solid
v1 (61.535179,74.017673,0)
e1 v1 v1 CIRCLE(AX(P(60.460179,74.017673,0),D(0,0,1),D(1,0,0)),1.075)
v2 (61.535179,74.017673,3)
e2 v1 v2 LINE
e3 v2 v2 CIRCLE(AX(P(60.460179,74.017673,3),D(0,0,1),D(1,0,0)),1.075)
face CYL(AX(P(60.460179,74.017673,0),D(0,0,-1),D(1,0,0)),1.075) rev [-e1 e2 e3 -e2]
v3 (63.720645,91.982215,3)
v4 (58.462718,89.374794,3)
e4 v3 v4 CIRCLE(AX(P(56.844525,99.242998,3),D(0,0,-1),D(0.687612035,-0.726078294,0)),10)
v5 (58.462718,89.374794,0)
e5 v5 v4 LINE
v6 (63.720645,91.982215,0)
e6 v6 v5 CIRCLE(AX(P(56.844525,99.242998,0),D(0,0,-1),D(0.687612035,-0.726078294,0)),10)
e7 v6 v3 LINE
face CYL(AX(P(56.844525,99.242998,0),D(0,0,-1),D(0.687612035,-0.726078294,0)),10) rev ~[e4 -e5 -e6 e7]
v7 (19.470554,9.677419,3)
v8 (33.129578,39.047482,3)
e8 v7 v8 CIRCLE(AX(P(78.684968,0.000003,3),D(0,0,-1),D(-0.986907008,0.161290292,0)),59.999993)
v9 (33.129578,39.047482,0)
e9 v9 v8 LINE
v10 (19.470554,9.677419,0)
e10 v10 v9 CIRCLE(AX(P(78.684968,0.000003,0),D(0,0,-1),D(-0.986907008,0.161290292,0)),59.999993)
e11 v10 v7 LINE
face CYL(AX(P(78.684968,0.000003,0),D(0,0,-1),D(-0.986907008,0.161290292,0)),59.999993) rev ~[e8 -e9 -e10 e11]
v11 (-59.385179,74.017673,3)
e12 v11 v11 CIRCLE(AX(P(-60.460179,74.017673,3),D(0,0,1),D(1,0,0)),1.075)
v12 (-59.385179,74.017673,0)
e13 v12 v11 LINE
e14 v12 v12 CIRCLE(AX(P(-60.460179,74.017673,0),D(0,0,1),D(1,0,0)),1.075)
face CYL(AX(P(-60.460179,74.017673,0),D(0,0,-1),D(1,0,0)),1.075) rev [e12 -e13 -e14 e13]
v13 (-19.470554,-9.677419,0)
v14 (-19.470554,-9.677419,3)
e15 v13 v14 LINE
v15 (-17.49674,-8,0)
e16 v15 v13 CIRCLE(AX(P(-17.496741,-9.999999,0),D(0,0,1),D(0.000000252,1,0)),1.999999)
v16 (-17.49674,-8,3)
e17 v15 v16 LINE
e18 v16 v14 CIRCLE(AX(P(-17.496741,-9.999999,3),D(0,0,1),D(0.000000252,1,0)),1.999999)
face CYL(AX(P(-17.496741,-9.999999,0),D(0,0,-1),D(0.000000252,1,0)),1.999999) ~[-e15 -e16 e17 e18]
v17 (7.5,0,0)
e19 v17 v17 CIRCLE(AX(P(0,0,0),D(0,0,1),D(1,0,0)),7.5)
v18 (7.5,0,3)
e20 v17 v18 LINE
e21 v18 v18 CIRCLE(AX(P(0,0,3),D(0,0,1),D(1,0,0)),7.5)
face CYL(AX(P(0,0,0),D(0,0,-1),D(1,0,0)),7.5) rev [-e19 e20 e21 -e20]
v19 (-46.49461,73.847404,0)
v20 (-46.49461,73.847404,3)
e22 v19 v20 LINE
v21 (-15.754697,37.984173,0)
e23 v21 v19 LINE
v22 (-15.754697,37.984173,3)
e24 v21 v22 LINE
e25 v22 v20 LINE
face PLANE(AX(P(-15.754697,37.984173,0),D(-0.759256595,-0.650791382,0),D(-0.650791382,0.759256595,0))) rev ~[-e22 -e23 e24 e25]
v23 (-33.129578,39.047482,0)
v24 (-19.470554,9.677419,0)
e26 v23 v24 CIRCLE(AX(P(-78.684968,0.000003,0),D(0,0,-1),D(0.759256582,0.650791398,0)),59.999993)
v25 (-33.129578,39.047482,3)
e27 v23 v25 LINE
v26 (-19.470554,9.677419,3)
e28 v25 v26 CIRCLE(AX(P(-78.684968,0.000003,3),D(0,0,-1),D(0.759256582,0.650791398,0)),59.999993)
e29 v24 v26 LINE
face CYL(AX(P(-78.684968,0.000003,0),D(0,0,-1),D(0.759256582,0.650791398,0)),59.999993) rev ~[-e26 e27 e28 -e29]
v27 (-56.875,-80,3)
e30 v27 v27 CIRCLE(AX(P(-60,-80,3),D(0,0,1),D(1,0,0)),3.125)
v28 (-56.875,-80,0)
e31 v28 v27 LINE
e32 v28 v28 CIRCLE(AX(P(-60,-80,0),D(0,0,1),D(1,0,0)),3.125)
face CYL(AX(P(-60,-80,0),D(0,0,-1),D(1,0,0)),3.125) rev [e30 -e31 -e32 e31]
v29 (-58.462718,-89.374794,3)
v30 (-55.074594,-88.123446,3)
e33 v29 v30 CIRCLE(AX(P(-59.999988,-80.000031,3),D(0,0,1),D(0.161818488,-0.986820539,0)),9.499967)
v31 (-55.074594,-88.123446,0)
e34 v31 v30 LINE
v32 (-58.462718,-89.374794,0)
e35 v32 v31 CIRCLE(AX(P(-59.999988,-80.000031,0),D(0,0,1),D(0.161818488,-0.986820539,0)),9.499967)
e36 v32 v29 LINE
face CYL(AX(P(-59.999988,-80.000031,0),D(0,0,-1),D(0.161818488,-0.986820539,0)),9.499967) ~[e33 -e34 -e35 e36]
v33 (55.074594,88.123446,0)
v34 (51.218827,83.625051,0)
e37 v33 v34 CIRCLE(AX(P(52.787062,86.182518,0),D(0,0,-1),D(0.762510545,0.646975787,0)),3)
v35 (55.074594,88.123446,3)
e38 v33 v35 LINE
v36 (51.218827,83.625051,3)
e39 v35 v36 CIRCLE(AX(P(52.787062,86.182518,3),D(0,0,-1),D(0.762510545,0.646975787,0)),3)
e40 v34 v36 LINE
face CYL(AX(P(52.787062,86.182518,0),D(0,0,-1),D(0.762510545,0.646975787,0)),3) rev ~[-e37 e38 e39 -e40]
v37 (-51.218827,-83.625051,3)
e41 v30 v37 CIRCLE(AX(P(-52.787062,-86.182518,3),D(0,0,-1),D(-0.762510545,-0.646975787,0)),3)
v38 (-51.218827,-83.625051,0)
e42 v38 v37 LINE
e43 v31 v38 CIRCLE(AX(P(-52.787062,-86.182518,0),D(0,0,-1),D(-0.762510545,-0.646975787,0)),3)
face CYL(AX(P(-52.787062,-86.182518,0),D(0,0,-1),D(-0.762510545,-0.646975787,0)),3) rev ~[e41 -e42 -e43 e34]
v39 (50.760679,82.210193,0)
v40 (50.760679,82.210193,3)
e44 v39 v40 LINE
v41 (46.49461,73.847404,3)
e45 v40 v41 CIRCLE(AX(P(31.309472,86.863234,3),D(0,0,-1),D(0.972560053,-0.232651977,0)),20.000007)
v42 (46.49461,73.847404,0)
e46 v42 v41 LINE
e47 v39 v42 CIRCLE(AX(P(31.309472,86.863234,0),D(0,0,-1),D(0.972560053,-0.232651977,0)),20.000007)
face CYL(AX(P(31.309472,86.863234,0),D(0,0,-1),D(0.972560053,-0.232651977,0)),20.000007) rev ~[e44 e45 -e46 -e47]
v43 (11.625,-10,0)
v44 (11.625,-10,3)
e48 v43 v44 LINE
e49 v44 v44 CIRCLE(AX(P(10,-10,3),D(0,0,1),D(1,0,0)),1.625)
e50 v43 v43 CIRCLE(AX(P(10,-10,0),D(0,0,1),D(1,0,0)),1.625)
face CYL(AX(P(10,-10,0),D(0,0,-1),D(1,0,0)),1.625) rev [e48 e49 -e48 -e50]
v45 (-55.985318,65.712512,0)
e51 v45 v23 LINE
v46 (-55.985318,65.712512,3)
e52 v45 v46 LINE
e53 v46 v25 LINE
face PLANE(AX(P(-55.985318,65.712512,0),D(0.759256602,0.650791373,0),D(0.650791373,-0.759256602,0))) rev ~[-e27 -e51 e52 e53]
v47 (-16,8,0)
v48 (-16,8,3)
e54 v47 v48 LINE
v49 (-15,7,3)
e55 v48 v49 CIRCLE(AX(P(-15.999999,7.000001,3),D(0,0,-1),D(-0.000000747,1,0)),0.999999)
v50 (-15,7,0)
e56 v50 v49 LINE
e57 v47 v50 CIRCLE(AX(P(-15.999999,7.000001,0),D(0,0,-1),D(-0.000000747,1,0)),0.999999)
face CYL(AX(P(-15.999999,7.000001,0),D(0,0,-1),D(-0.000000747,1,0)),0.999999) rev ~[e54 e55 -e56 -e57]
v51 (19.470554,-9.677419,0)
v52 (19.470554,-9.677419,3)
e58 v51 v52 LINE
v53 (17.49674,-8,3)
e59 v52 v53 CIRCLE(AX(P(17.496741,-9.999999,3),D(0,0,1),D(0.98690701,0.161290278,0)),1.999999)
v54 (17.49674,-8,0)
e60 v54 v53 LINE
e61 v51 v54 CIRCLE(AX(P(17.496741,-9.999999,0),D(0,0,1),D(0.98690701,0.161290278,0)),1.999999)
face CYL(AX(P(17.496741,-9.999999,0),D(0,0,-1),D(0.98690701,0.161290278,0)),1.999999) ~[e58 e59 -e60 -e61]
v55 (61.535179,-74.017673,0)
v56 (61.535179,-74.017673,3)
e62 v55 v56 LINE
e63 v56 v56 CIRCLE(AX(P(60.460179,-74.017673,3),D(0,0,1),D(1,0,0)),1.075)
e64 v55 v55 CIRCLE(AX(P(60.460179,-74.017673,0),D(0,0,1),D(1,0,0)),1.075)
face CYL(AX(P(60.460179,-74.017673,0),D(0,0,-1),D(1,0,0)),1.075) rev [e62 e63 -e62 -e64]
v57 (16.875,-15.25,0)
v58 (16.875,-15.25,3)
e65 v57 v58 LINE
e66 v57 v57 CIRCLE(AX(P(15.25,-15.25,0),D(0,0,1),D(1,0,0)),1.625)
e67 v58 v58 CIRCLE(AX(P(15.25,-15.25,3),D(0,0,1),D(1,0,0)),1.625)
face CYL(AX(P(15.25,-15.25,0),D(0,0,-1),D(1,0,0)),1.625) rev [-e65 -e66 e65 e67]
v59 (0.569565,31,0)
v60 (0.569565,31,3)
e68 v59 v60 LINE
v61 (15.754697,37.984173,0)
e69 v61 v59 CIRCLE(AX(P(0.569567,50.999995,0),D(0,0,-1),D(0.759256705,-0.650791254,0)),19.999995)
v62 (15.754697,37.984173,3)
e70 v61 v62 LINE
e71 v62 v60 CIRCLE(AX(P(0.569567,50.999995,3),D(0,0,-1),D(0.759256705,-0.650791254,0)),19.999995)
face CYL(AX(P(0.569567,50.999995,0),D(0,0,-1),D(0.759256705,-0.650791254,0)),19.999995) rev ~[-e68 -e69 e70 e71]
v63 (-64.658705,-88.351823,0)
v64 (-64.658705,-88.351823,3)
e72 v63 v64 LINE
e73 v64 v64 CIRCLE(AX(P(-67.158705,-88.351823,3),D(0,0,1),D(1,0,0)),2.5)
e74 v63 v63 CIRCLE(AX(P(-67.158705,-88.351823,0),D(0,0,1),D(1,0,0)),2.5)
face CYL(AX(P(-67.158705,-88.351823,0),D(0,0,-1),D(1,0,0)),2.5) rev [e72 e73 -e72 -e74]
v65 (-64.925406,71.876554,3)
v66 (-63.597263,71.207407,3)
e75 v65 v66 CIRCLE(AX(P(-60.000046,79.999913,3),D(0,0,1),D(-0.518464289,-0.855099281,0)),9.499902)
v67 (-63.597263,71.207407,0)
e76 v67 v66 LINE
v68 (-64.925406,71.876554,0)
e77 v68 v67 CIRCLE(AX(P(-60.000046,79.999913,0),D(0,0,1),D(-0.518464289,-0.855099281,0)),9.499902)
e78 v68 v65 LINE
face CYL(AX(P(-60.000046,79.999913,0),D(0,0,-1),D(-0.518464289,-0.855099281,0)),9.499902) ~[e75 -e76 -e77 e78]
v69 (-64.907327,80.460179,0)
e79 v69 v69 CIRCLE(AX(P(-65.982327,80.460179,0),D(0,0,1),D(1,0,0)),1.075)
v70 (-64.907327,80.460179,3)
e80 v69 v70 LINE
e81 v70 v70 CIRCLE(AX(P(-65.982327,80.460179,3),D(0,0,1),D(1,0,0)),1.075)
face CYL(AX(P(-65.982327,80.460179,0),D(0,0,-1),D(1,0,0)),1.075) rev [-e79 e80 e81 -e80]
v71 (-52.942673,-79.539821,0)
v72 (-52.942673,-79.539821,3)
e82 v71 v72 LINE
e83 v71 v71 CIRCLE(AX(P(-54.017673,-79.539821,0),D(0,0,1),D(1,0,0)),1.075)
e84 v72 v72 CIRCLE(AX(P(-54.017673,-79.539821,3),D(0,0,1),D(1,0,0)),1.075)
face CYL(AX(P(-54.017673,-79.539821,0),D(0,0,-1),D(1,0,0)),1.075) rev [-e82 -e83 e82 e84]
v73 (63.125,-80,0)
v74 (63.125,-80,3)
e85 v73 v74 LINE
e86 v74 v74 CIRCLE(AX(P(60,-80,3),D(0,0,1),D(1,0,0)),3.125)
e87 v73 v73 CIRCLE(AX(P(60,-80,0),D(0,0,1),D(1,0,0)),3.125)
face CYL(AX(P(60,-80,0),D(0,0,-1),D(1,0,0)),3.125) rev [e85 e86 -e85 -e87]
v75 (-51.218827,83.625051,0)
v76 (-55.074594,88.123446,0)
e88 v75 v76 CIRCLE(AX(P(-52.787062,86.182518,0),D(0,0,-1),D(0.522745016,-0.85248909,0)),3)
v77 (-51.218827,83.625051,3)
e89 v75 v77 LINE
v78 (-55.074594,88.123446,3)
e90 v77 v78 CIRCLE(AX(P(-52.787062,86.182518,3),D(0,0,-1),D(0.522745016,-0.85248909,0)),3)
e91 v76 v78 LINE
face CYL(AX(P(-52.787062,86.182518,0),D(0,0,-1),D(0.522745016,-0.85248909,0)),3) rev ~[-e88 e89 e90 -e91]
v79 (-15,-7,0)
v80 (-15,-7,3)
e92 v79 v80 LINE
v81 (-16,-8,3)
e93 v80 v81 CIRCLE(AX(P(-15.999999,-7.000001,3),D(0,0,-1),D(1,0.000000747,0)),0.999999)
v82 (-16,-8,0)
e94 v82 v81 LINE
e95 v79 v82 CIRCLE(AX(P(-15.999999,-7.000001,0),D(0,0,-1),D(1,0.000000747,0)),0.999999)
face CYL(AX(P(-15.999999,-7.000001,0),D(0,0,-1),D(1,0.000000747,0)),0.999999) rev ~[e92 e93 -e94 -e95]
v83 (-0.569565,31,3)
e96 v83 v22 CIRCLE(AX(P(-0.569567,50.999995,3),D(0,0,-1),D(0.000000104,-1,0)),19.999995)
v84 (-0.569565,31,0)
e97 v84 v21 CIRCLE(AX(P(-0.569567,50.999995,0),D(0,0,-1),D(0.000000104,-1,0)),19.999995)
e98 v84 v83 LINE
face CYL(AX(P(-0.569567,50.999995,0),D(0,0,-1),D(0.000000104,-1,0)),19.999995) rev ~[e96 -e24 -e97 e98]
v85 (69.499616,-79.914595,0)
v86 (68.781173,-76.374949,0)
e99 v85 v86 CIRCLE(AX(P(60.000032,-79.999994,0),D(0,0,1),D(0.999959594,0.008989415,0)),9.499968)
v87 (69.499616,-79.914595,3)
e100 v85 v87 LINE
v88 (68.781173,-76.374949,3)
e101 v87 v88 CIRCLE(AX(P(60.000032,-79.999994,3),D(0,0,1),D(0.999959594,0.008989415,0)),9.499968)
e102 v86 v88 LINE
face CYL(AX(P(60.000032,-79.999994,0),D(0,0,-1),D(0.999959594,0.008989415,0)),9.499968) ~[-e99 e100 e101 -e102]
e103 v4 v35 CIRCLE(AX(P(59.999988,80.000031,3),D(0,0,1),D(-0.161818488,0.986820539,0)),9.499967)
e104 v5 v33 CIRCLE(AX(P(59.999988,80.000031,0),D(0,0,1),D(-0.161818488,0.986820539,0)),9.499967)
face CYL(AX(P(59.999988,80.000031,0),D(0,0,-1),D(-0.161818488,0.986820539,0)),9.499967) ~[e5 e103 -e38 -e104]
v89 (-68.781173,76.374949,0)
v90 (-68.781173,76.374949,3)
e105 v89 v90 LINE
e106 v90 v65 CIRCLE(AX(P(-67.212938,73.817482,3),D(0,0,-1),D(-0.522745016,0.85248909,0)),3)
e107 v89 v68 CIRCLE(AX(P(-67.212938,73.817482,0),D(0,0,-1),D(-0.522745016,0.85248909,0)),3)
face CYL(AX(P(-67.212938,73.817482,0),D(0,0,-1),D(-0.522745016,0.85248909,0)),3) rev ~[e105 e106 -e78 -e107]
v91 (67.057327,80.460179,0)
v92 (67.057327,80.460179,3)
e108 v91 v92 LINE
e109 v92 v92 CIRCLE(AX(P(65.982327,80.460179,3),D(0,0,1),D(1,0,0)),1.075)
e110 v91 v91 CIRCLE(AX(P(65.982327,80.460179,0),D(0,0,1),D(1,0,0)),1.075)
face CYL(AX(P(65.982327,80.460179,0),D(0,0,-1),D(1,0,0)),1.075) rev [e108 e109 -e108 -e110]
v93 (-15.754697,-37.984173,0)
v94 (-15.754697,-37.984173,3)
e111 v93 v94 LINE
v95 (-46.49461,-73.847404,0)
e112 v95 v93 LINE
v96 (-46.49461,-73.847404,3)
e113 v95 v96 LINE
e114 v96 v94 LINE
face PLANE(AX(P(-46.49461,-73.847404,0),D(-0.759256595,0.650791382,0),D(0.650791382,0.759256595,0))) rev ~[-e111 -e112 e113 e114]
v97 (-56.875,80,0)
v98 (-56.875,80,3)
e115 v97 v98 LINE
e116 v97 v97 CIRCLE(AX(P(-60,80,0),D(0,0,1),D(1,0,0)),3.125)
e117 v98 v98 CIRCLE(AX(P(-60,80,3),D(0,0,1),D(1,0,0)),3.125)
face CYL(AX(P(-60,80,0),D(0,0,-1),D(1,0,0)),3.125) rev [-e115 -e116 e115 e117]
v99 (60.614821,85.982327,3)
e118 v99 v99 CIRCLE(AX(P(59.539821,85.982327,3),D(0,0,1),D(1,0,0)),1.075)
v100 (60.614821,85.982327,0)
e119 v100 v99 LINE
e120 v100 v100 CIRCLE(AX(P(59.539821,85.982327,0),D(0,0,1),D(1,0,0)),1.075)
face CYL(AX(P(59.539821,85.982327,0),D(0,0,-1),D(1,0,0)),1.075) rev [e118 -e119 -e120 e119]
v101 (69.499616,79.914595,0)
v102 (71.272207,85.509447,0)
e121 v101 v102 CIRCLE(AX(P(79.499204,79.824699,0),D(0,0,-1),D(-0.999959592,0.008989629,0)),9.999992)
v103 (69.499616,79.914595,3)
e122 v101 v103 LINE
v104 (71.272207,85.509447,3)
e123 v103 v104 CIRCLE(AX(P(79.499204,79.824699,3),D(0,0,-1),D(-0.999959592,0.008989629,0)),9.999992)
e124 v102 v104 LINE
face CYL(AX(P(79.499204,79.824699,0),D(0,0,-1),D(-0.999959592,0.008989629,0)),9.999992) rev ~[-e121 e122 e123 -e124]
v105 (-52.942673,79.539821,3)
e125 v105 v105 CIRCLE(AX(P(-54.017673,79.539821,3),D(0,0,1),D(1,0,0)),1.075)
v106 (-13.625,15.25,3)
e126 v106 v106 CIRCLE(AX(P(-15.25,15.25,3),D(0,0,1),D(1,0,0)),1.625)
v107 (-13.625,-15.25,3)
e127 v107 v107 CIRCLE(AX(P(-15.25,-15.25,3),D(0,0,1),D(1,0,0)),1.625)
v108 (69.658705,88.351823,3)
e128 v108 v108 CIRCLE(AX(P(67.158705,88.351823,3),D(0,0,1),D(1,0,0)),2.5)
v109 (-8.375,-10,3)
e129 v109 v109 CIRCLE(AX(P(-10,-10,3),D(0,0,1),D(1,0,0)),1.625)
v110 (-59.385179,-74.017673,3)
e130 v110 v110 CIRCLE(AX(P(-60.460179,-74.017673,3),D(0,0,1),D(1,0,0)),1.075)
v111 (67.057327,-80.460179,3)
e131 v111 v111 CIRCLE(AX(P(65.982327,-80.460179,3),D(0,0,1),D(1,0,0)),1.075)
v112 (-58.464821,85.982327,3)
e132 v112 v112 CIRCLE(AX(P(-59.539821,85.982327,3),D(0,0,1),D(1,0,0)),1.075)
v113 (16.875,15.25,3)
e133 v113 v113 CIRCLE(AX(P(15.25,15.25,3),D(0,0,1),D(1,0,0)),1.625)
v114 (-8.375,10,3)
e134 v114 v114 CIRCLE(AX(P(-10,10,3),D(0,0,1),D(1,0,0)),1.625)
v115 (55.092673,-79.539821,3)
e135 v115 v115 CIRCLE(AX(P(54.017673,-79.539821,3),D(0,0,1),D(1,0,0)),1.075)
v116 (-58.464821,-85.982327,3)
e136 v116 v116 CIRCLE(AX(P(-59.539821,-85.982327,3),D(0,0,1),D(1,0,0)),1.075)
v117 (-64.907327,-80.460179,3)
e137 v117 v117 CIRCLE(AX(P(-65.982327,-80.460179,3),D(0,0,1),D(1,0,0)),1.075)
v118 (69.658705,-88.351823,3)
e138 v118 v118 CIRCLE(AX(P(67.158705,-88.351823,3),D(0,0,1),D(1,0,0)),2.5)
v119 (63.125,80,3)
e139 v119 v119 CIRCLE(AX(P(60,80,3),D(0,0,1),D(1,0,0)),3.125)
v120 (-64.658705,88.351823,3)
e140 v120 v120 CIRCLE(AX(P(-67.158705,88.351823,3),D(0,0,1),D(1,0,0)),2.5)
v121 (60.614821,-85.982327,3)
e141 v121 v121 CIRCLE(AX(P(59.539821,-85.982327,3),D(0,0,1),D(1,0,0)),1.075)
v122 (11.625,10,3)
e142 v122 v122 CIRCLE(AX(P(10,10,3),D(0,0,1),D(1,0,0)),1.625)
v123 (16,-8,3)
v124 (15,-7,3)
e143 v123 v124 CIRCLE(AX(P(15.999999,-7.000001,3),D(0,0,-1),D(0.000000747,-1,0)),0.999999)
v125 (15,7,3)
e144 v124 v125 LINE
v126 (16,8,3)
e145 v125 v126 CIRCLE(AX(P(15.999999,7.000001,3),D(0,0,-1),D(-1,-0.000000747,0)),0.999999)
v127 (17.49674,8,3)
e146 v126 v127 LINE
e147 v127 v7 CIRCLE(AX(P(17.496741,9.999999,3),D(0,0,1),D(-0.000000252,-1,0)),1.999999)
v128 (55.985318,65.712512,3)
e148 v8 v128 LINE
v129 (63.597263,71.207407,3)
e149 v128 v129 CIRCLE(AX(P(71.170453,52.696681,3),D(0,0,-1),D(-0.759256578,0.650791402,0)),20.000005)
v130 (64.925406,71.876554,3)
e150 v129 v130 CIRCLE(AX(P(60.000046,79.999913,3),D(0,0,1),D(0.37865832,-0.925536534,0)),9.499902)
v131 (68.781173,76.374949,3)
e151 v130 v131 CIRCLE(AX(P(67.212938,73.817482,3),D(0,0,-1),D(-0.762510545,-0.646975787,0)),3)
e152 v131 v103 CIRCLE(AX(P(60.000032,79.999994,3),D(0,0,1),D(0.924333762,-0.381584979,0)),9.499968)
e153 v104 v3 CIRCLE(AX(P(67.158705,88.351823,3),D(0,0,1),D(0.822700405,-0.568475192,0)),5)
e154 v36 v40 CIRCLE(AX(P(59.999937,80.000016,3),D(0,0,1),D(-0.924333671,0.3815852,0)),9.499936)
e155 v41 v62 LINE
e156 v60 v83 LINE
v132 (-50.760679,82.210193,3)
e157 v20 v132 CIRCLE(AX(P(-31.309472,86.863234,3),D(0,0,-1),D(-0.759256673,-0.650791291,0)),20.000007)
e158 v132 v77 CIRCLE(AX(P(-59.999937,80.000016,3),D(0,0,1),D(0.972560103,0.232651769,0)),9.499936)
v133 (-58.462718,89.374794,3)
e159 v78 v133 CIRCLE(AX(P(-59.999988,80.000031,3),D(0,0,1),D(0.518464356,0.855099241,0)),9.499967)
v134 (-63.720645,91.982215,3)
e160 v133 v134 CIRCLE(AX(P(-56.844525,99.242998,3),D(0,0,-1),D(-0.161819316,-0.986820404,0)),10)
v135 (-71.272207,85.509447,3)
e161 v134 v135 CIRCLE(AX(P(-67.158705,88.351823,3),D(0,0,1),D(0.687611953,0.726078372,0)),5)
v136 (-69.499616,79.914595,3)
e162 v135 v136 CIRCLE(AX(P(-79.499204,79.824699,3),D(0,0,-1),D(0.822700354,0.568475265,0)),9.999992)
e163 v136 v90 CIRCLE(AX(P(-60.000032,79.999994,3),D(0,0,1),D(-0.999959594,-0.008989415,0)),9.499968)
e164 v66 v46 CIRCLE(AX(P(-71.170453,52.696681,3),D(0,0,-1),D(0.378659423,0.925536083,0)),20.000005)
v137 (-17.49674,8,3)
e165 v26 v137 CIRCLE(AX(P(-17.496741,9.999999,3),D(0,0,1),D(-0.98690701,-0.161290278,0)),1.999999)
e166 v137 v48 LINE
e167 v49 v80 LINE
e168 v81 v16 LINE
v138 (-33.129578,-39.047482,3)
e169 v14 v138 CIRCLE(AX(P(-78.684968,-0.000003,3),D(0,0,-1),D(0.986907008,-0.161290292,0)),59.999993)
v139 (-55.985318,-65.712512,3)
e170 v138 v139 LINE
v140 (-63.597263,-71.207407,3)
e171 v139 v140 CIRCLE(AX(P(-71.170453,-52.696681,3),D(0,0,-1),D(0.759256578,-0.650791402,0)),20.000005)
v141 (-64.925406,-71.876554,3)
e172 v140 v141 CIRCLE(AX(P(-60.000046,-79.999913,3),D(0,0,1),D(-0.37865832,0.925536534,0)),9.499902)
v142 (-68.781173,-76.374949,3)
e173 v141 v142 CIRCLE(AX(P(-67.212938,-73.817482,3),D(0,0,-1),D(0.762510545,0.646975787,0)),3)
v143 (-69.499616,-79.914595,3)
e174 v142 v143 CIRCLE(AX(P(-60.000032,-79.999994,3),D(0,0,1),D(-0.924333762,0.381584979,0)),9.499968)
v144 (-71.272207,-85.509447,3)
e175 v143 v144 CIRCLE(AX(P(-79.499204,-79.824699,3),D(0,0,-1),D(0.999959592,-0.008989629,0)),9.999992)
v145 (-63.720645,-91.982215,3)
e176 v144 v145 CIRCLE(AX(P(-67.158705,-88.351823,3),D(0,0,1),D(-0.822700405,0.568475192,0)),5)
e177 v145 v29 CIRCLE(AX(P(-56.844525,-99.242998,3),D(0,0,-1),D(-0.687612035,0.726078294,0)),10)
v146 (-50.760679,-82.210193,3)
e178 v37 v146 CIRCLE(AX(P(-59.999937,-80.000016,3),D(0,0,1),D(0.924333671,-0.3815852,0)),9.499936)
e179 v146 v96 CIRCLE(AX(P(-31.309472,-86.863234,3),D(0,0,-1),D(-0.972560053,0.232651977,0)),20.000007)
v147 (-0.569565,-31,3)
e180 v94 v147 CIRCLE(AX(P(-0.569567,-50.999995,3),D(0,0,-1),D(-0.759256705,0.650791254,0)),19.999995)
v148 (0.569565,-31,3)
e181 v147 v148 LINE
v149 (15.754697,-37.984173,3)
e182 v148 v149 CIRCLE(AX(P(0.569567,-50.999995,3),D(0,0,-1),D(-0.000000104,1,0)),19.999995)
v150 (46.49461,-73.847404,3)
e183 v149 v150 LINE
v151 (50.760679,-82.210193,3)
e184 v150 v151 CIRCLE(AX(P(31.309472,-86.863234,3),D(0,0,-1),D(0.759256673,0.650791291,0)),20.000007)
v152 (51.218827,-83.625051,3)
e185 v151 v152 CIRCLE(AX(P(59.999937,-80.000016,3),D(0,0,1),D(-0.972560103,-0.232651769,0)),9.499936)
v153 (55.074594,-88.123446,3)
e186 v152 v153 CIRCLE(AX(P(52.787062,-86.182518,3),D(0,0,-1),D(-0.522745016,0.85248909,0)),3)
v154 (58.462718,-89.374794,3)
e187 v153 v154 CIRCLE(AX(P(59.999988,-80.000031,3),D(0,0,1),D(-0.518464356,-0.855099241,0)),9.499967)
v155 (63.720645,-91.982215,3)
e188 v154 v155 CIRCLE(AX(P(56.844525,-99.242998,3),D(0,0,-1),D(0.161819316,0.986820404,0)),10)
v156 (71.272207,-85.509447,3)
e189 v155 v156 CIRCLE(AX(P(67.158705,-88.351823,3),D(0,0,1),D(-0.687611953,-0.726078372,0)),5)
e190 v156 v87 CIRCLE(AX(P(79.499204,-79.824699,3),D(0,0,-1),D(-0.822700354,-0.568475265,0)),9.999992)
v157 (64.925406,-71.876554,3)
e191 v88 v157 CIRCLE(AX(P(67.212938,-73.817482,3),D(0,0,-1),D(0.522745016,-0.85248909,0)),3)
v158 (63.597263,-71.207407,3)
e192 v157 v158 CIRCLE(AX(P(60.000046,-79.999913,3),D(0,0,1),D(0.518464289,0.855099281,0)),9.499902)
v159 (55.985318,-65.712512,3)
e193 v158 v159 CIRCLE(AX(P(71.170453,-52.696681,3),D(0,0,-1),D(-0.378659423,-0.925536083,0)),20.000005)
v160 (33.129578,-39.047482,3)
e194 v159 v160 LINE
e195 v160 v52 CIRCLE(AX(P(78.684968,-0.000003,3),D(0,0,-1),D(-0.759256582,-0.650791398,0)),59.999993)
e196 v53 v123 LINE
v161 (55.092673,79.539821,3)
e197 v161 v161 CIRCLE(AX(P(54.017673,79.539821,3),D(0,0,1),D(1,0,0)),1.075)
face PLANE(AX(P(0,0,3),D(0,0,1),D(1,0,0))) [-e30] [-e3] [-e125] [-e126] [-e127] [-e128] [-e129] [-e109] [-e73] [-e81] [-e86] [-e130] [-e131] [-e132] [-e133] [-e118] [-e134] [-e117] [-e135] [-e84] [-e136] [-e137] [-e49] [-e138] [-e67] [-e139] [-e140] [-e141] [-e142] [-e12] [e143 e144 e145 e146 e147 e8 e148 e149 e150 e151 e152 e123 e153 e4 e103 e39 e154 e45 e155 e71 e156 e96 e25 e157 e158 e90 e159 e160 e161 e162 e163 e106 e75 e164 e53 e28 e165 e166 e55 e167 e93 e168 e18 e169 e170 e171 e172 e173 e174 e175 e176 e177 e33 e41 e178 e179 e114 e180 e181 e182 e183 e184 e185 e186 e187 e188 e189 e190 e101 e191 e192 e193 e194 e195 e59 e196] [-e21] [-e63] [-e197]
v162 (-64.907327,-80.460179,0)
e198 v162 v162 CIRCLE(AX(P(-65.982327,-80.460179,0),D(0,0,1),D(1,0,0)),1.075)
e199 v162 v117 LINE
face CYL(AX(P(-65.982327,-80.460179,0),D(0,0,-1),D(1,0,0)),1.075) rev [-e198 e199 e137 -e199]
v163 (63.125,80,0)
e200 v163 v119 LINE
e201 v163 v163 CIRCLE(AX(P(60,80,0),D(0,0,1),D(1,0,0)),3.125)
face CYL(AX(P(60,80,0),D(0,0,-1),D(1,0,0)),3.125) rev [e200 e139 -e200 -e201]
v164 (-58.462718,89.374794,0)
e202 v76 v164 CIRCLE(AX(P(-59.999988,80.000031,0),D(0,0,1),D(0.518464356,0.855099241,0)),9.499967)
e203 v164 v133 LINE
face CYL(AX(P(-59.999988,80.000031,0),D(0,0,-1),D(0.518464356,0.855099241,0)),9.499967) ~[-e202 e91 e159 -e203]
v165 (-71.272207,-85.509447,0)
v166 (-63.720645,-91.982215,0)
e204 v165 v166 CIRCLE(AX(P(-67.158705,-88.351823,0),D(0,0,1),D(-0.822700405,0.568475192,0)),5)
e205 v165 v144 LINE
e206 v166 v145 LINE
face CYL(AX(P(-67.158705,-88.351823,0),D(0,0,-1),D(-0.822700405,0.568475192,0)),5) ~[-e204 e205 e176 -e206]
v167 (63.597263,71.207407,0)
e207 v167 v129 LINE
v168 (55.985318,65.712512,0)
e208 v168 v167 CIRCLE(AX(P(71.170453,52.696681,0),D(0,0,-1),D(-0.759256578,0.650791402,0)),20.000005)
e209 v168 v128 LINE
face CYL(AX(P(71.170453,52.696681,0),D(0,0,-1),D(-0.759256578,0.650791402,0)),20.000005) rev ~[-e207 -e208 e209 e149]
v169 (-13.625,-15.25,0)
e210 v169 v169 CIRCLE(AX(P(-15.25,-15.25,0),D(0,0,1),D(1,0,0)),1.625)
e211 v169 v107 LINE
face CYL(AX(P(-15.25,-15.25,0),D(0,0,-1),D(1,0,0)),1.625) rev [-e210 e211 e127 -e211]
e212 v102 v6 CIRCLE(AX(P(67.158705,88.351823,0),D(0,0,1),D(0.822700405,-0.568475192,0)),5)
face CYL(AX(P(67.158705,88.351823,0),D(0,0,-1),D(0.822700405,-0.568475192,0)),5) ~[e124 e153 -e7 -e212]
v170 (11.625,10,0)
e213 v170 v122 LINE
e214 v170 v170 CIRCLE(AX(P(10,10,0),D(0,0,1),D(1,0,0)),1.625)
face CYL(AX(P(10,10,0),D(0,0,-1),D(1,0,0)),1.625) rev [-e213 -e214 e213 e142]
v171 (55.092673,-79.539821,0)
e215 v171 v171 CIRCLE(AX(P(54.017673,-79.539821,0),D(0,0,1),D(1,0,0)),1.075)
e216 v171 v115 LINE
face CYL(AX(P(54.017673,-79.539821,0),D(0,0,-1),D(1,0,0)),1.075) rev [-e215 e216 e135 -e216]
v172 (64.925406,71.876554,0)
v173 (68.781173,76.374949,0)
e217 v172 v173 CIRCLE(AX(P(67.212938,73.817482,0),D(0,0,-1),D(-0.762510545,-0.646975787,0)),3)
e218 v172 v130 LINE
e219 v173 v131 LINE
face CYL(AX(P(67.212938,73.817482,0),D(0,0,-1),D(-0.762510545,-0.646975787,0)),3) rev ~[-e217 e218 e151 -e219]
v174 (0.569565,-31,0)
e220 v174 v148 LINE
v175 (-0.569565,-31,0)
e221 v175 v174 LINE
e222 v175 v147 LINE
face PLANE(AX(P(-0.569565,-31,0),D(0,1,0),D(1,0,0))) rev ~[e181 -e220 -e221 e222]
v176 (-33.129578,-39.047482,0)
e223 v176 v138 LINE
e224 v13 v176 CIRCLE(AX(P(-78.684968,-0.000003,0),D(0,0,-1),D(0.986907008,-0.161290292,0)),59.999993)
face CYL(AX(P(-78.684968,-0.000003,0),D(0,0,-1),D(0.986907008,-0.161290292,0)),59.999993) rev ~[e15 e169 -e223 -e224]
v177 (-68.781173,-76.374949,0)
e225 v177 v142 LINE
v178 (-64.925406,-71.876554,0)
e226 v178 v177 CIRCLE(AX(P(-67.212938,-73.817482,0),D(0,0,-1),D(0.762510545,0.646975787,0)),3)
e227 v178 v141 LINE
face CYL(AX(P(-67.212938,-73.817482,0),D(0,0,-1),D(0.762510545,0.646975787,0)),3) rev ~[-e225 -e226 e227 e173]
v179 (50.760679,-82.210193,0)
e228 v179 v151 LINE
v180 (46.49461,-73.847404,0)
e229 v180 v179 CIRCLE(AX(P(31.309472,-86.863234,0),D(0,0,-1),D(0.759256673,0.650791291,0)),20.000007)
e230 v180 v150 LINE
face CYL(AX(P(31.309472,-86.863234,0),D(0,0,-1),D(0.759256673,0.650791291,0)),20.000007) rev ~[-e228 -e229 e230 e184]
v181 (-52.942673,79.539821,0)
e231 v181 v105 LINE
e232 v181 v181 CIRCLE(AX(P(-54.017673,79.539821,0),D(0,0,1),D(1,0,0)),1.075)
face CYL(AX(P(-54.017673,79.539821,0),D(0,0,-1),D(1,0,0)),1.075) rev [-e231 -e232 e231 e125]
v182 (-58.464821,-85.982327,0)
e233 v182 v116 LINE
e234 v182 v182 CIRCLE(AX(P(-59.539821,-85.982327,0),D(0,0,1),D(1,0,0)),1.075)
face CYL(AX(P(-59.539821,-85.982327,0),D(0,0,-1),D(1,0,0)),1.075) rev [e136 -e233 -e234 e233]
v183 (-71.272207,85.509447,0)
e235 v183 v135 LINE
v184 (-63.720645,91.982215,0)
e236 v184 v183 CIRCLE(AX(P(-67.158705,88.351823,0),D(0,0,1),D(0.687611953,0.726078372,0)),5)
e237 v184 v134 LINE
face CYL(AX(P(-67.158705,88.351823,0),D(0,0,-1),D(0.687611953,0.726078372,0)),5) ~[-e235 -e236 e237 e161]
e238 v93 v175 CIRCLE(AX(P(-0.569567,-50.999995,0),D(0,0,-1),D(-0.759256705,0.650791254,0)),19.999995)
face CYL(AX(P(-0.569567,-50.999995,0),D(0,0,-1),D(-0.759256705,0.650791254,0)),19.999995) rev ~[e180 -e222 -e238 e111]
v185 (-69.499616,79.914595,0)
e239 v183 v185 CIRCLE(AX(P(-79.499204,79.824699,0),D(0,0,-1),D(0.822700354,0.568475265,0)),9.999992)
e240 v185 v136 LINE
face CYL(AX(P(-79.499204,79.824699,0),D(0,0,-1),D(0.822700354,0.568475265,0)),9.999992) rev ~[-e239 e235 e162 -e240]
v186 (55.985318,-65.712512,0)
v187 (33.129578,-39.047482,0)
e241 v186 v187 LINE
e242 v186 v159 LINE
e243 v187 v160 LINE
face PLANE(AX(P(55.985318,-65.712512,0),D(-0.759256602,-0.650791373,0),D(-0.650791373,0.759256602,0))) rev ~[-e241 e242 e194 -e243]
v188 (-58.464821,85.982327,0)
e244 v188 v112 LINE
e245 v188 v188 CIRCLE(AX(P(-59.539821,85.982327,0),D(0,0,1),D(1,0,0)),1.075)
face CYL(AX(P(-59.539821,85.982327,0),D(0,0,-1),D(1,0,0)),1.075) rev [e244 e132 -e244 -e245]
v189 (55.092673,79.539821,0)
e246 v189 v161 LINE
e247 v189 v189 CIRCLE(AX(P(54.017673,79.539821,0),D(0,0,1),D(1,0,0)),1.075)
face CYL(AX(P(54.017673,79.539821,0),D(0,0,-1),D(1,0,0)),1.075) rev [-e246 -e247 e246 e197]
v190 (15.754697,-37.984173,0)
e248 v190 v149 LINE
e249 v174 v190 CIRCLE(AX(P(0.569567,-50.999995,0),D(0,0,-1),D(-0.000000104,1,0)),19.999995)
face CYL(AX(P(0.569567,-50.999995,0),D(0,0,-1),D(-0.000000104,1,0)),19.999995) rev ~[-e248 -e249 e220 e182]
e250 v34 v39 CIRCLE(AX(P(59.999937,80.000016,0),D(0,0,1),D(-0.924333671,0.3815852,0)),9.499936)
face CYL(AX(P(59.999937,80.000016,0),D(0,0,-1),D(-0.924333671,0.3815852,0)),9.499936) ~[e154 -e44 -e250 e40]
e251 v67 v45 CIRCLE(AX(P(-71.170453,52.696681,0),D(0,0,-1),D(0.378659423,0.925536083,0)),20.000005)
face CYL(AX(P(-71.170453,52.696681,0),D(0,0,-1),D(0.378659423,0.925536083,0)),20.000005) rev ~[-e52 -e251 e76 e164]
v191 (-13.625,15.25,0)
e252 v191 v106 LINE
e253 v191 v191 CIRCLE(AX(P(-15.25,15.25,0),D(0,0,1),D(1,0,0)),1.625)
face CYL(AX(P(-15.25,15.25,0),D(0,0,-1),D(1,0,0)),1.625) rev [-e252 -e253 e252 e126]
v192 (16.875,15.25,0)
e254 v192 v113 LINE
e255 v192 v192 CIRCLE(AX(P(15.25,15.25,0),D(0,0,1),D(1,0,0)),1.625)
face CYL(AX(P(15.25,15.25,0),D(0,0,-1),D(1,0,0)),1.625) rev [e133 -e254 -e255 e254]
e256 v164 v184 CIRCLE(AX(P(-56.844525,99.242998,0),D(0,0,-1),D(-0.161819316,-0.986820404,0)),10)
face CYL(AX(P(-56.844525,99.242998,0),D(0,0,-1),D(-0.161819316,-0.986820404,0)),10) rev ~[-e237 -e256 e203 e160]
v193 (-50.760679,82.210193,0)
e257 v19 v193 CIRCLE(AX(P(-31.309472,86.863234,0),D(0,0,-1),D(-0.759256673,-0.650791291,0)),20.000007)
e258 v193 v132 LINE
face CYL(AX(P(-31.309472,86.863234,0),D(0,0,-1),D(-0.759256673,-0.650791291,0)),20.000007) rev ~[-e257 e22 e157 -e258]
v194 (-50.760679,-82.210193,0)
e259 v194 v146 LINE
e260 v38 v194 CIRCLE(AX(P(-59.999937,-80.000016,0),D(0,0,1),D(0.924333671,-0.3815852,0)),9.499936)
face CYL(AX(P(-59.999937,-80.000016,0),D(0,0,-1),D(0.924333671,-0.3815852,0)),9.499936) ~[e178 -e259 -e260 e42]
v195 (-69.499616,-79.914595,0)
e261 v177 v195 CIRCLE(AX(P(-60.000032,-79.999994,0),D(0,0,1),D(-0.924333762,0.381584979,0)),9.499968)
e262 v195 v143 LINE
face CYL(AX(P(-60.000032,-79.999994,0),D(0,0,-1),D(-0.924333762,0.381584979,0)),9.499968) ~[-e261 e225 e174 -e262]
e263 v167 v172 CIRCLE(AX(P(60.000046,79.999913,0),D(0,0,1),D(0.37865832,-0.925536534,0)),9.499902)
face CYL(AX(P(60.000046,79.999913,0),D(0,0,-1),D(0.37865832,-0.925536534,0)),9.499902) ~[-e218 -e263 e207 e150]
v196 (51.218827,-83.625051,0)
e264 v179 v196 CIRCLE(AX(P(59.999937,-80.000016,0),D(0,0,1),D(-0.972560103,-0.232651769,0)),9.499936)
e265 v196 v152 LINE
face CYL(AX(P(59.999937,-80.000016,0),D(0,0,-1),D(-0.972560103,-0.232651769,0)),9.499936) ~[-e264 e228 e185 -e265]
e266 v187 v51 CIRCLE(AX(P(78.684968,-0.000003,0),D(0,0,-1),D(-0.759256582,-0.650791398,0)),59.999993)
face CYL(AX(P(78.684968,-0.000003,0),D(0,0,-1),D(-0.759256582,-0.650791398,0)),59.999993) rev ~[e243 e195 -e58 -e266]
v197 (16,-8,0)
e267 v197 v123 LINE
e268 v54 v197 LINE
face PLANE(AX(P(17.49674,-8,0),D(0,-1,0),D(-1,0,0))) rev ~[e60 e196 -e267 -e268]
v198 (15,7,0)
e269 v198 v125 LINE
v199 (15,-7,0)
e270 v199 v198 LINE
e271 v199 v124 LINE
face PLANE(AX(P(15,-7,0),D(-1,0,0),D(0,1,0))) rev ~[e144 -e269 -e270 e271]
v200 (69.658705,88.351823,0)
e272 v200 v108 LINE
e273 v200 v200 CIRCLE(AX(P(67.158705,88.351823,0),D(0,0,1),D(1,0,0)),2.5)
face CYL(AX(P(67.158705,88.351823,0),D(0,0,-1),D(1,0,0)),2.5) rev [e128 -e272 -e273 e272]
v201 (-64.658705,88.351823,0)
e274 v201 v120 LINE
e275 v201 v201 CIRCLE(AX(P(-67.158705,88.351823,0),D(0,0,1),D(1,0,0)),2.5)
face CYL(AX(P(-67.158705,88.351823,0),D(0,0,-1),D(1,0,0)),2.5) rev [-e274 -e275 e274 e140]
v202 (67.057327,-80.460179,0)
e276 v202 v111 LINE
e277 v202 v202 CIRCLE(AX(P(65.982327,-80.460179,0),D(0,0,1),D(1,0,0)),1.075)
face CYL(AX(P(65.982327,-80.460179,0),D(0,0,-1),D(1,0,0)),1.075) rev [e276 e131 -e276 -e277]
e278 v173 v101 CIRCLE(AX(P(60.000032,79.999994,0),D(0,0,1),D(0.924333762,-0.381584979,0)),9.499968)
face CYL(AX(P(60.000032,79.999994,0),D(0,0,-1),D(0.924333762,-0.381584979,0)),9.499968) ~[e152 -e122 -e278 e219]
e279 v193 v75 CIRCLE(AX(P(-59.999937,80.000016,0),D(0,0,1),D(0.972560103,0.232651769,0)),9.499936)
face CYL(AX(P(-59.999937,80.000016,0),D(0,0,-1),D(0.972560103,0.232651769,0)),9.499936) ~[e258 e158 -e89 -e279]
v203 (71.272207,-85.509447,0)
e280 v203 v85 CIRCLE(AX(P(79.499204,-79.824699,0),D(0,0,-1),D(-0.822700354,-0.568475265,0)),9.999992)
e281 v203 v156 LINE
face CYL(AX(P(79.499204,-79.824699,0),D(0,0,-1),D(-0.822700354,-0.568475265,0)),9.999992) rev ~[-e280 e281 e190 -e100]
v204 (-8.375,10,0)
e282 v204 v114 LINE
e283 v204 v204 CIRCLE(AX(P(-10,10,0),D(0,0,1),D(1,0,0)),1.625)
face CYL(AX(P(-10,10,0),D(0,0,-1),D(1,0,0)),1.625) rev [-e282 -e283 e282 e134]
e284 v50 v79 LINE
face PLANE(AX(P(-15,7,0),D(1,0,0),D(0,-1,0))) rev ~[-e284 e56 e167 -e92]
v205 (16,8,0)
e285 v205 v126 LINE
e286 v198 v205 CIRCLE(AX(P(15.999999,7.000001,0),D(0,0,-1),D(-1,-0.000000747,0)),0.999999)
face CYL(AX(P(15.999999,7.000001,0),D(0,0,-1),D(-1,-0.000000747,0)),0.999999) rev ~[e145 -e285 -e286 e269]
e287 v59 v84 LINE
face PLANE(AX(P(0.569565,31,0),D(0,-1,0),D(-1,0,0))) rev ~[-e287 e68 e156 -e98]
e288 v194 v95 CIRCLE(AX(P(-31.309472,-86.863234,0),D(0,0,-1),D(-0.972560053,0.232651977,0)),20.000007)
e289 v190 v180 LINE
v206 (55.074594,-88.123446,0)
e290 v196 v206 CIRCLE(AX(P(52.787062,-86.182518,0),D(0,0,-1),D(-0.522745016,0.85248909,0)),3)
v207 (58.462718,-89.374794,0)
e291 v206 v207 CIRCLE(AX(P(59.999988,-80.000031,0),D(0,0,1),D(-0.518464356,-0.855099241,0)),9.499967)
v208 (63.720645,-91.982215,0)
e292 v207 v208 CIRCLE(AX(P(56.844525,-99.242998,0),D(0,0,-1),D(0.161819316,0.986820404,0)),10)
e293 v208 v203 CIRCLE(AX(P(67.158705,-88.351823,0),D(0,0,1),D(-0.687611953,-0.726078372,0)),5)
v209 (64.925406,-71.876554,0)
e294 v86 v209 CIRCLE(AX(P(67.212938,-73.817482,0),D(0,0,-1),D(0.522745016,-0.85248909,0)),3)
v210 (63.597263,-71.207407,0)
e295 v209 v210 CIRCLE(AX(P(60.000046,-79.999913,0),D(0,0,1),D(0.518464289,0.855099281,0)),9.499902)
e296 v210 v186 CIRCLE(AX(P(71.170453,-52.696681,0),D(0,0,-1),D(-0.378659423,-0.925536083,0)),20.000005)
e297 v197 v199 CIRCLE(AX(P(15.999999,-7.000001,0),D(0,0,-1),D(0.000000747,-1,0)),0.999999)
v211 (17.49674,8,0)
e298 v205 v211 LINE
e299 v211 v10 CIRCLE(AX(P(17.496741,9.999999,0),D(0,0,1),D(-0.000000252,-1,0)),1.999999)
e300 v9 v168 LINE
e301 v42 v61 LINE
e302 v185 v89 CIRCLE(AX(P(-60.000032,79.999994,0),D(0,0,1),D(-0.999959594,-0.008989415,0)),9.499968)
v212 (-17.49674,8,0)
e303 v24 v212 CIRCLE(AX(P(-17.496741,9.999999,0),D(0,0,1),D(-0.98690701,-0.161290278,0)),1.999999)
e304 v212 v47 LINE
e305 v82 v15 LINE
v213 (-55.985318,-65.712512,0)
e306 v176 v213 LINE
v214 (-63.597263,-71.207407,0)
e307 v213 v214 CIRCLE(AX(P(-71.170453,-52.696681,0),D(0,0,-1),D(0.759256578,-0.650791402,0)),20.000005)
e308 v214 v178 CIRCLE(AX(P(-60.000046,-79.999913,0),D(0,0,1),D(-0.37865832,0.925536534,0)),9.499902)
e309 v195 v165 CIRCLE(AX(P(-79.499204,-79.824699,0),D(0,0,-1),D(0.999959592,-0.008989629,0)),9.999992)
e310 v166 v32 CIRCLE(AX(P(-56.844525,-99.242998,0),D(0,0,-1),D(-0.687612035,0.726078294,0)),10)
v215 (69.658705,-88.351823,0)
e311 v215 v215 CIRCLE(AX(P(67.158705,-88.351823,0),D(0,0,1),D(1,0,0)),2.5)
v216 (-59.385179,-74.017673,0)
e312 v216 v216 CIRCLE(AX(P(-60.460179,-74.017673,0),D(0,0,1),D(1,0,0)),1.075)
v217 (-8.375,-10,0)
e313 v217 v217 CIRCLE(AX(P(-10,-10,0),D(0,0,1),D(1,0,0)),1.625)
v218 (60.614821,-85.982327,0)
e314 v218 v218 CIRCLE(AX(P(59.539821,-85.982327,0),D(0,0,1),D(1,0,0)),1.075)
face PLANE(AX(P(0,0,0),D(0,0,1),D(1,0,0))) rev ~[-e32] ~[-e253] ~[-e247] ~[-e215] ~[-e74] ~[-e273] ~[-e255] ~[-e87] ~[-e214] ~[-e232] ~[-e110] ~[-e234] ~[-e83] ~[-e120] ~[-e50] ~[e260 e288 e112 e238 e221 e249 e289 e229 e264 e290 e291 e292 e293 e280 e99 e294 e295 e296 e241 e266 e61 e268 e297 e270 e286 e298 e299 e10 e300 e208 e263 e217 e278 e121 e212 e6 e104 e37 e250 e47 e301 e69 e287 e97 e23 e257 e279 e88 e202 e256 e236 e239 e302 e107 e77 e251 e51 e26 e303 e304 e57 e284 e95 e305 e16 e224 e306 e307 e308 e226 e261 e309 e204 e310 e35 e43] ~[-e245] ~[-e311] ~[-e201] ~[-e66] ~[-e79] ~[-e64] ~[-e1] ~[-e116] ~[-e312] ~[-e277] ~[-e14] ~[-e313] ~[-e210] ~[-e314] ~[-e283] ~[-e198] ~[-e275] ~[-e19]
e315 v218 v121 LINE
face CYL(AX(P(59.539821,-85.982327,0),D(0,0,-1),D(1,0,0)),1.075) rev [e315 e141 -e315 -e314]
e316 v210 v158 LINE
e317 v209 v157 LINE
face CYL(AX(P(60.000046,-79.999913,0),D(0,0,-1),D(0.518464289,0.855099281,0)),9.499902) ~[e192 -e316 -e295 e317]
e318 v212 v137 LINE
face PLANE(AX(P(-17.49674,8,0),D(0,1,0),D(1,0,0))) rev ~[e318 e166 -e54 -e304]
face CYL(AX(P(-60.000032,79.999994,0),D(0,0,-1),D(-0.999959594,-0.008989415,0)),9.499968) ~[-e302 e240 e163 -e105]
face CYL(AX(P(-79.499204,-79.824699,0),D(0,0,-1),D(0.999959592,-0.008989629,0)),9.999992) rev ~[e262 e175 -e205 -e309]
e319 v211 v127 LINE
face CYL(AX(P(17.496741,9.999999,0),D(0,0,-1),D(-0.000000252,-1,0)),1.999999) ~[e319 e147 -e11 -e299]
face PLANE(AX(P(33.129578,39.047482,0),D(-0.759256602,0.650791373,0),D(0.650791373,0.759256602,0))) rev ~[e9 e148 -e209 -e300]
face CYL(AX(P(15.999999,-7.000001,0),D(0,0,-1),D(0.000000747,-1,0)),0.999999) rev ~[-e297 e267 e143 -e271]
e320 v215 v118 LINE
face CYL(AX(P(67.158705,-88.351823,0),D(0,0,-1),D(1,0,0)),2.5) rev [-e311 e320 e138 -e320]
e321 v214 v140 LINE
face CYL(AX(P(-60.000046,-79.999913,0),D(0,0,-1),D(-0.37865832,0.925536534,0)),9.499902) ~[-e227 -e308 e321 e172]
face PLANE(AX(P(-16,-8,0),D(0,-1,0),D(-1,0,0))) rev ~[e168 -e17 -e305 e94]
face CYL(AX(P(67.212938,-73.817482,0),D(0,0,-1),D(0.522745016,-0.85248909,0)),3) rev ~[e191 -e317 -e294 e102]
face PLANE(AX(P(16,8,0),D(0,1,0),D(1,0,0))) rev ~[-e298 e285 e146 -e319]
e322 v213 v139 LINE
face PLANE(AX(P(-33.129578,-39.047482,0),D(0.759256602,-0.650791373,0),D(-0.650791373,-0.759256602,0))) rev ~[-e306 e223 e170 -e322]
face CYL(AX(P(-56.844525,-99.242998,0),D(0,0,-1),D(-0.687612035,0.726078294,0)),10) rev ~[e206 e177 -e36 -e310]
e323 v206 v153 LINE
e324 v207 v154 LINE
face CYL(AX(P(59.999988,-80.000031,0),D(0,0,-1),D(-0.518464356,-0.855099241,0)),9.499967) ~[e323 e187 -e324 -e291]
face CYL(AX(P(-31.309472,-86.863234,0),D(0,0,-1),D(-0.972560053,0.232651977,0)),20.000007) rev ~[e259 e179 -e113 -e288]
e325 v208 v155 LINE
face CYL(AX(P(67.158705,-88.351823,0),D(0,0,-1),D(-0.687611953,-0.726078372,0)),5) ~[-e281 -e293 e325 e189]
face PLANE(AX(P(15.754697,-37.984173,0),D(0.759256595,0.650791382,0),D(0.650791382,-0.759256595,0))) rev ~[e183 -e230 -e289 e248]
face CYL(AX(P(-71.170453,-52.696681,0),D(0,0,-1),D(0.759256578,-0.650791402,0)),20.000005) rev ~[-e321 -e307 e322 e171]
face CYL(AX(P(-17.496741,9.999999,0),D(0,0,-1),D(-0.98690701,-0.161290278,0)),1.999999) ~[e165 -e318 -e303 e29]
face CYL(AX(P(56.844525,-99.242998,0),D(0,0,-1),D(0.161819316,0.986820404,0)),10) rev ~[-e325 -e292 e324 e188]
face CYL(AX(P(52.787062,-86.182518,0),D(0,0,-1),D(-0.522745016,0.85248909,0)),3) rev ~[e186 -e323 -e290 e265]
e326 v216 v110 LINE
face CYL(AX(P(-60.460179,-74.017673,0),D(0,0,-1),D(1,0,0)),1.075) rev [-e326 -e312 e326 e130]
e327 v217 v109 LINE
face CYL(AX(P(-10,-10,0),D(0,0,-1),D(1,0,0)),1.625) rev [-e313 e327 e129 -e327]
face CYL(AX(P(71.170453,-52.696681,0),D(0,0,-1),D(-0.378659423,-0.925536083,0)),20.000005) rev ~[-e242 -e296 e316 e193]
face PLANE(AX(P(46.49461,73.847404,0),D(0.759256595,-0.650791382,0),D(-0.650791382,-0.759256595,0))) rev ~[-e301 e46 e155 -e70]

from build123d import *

# Parameters (mm, degrees)
F0_R     = 2.5
F0_R_2   = 1.075
F0_R_3   = 3.125
F0_R_4   = 1.625
F0_R_5   = 7.5
F1_DEPTH = 3


with BuildPart() as f1:
    # F0 (on Top) → F1 (new body)
    with BuildSketch(Plane.XY):
        with BuildLine():
            Line((0.569565, 31), (-0.569565, 31))
            ThreePointArc((-0.569565, 31), (-8.926702, 32.829742), (-15.754697, 37.984173))
            Line((-15.754697, 37.984173), (-46.49461, 73.847404))
            ThreePointArc((-46.49461, 73.847404), (-49.125284, 77.77494), (-50.760679, 82.210193))
            ThreePointArc((-50.760679, 82.210193), (-50.962024, 82.926601), (-51.218827, 83.625051))
            ThreePointArc((-51.218827, 83.625051), (-55.064832, 84.230144), (-55.074594, 88.123446))
            ThreePointArc((-55.074594, 88.123446), (-56.708639, 88.911619), (-58.462718, 89.374794))
            ThreePointArc((-58.462718, 89.374794), (-61.287272, 90.284092), (-63.720645, 91.982215))
            ThreePointArc((-63.720645, 91.982215), (-70.412662, 92.148106), (-71.272207, 85.509447))
            ThreePointArc((-71.272207, 85.509447), (-69.966225, 82.844989), (-69.499616, 79.914595))
            ThreePointArc((-69.499616, 79.914595), (-69.310161, 78.110315), (-68.781173, 76.374949))
            ThreePointArc((-68.781173, 76.374949), (-64.935168, 75.769856), (-64.925406, 71.876554))
            ThreePointArc((-64.925406, 71.876554), (-64.274449, 71.515951), (-63.597263, 71.207407))
            ThreePointArc((-63.597263, 71.207407), (-59.464309, 68.912919), (-55.985318, 65.712512))
            Line((-55.985318, 65.712512), (-33.129578, 39.047482))
            ThreePointArc((-33.129578, 39.047482), (-24.280666, 25.301606), (-19.470554, 9.677419))
            ThreePointArc((-19.470554, 9.677419), (-18.791892, 8.475998), (-17.49674, 8))
            Line((-17.49674, 8), (-16, 8))
            ThreePointArc((-16, 8), (-15.292893, 7.707107), (-15, 7))
            Line((-15, 7), (-15, -7))
            ThreePointArc((-15, -7), (-15.292893, -7.707107), (-16, -8))
            Line((-16, -8), (-17.49674, -8))
            ThreePointArc((-17.49674, -8), (-18.791892, -8.475998), (-19.470554, -9.677419))
            ThreePointArc((-19.470554, -9.677419), (-24.280666, -25.301606), (-33.129578, -39.047482))
            Line((-33.129578, -39.047482), (-55.985318, -65.712512))
            ThreePointArc((-55.985318, -65.712512), (-59.464309, -68.912919), (-63.597263, -71.207407))
            ThreePointArc((-63.597263, -71.207407), (-64.274449, -71.515951), (-64.925406, -71.876554))
            ThreePointArc((-64.925406, -71.876554), (-64.935168, -75.769856), (-68.781173, -76.374949))
            ThreePointArc((-68.781173, -76.374949), (-69.310161, -78.110315), (-69.499616, -79.914595))
            ThreePointArc((-69.499616, -79.914595), (-69.966225, -82.844989), (-71.272207, -85.509447))
            ThreePointArc((-71.272207, -85.509447), (-70.412662, -92.148106), (-63.720645, -91.982215))
            ThreePointArc((-63.720645, -91.982215), (-61.287272, -90.284092), (-58.462718, -89.374794))
            ThreePointArc((-58.462718, -89.374794), (-56.708639, -88.911619), (-55.074594, -88.123446))
            ThreePointArc((-55.074594, -88.123446), (-55.064832, -84.230144), (-51.218827, -83.625051))
            ThreePointArc((-51.218827, -83.625051), (-50.962024, -82.926601), (-50.760679, -82.210193))
            ThreePointArc((-50.760679, -82.210193), (-49.125284, -77.77494), (-46.49461, -73.847404))
            Line((-46.49461, -73.847404), (-15.754697, -37.984173))
            ThreePointArc((-15.754697, -37.984173), (-8.926702, -32.829742), (-0.569565, -31))
            Line((-0.569565, -31), (0.569565, -31))
            ThreePointArc((0.569565, -31), (8.926702, -32.829742), (15.754697, -37.984173))
            Line((15.754697, -37.984173), (46.49461, -73.847404))
            ThreePointArc((46.49461, -73.847404), (49.125284, -77.77494), (50.760679, -82.210193))
            ThreePointArc((50.760679, -82.210193), (50.962024, -82.926601), (51.218827, -83.625051))
            ThreePointArc((51.218827, -83.625051), (55.064832, -84.230144), (55.074594, -88.123446))
            ThreePointArc((55.074594, -88.123446), (56.708639, -88.911619), (58.462718, -89.374794))
            ThreePointArc((58.462718, -89.374794), (61.287272, -90.284092), (63.720645, -91.982215))
            ThreePointArc((63.720645, -91.982215), (70.412662, -92.148106), (71.272207, -85.509447))
            ThreePointArc((71.272207, -85.509447), (69.966225, -82.844989), (69.499616, -79.914595))
            ThreePointArc((69.499616, -79.914595), (69.310161, -78.110315), (68.781173, -76.374949))
            ThreePointArc((68.781173, -76.374949), (64.935168, -75.769856), (64.925406, -71.876554))
            ThreePointArc((64.925406, -71.876554), (64.274449, -71.515951), (63.597263, -71.207407))
            ThreePointArc((63.597263, -71.207407), (59.464309, -68.912919), (55.985318, -65.712512))
            Line((55.985318, -65.712512), (33.129578, -39.047482))
            ThreePointArc((33.129578, -39.047482), (24.280666, -25.301606), (19.470554, -9.677419))
            ThreePointArc((19.470554, -9.677419), (18.791892, -8.475998), (17.49674, -8))
            Line((17.49674, -8), (16, -8))
            ThreePointArc((16, -8), (15.292893, -7.707107), (15, -7))
            Line((15, -7), (15, 7))
            ThreePointArc((15, 7), (15.292893, 7.707107), (16, 8))
            Line((16, 8), (17.49674, 8))
            ThreePointArc((17.49674, 8), (18.791892, 8.475998), (19.470554, 9.677419))
            ThreePointArc((19.470554, 9.677419), (24.280666, 25.301606), (33.129578, 39.047482))
            Line((33.129578, 39.047482), (55.985318, 65.712512))
            ThreePointArc((55.985318, 65.712512), (59.464309, 68.912919), (63.597263, 71.207407))
            ThreePointArc((63.597263, 71.207407), (64.274449, 71.515951), (64.925406, 71.876554))
            ThreePointArc((64.925406, 71.876554), (64.935168, 75.769856), (68.781173, 76.374949))
            ThreePointArc((68.781173, 76.374949), (69.310161, 78.110315), (69.499616, 79.914595))
            ThreePointArc((69.499616, 79.914595), (69.966225, 82.844989), (71.272207, 85.509447))
            ThreePointArc((71.272207, 85.509447), (70.412662, 92.148106), (63.720645, 91.982215))
            ThreePointArc((63.720645, 91.982215), (61.287272, 90.284092), (58.462718, 89.374794))
            ThreePointArc((58.462718, 89.374794), (56.708639, 88.911619), (55.074594, 88.123446))
            ThreePointArc((55.074594, 88.123446), (55.064832, 84.230144), (51.218827, 83.625051))
            ThreePointArc((51.218827, 83.625051), (50.962024, 82.926601), (50.760679, 82.210193))
            ThreePointArc((50.760679, 82.210193), (49.125284, 77.77494), (46.49461, 73.847404))
            Line((46.49461, 73.847404), (15.754697, 37.984173))
            ThreePointArc((15.754697, 37.984173), (8.926702, 32.829742), (0.569565, 31))
        make_face()
        with Locations((-67.158705, -88.351823)):
            Circle(F0_R, mode=Mode.SUBTRACT)
        with Locations((-59.539821, -85.982327)):
            Circle(F0_R_2, mode=Mode.SUBTRACT)
        with Locations((-65.982327, -80.460179)):
            Circle(F0_R_2, mode=Mode.SUBTRACT)
        with Locations((-60, -80)):
            Circle(F0_R_3, mode=Mode.SUBTRACT)
        with Locations((-60.460179, -74.017673)):
            Circle(F0_R_2, mode=Mode.SUBTRACT)
        with Locations((-54.017673, -79.539821)):
            Circle(F0_R_2, mode=Mode.SUBTRACT)
        with Locations((-15.25, -15.25)):
            Circle(F0_R_4, mode=Mode.SUBTRACT)
        with Locations((-10, -10)):
            Circle(F0_R_4, mode=Mode.SUBTRACT)
        with Locations((54.017673, -79.539821)):
            Circle(F0_R_2, mode=Mode.SUBTRACT)
        with Locations((59.539821, -85.982327)):
            Circle(F0_R_2, mode=Mode.SUBTRACT)
        with Locations((67.158705, -88.351823)):
            Circle(F0_R, mode=Mode.SUBTRACT)
        with Locations((60, -80)):
            Circle(F0_R_3, mode=Mode.SUBTRACT)
        with Locations((60.460179, -74.017673)):
            Circle(F0_R_2, mode=Mode.SUBTRACT)
        with Locations((65.982327, -80.460179)):
            Circle(F0_R_2, mode=Mode.SUBTRACT)
        with Locations((15.25, -15.25)):
            Circle(F0_R_4, mode=Mode.SUBTRACT)
        with Locations((10, -10)):
            Circle(F0_R_4, mode=Mode.SUBTRACT)
        with Locations((-10, 10)):
            Circle(F0_R_4, mode=Mode.SUBTRACT)
        with Locations((-15.25, 15.25)):
            Circle(F0_R_4, mode=Mode.SUBTRACT)
        with Locations((-65.982327, 80.460179)):
            Circle(F0_R_2, mode=Mode.SUBTRACT)
        with Locations((-60.460179, 74.017673)):
            Circle(F0_R_2, mode=Mode.SUBTRACT)
        with Locations((-60, 80)):
            Circle(F0_R_3, mode=Mode.SUBTRACT)
        with Locations((-67.158705, 88.351823)):
            Circle(F0_R, mode=Mode.SUBTRACT)
        with Locations((-59.539821, 85.982327)):
            Circle(F0_R_2, mode=Mode.SUBTRACT)
        with Locations((-54.017673, 79.539821)):
            Circle(F0_R_2, mode=Mode.SUBTRACT)
        Circle(F0_R_5, mode=Mode.SUBTRACT)
        with Locations((10, 10)):
            Circle(F0_R_4, mode=Mode.SUBTRACT)
        with Locations((15.25, 15.25)):
            Circle(F0_R_4, mode=Mode.SUBTRACT)
        with Locations((54.017673, 79.539821)):
            Circle(F0_R_2, mode=Mode.SUBTRACT)
        with Locations((60.460179, 74.017673)):
            Circle(F0_R_2, mode=Mode.SUBTRACT)
        with Locations((60, 80)):
            Circle(F0_R_3, mode=Mode.SUBTRACT)
        with Locations((65.982327, 80.460179)):
            Circle(F0_R_2, mode=Mode.SUBTRACT)
        with Locations((59.539821, 85.982327)):
            Circle(F0_R_2, mode=Mode.SUBTRACT)
        with Locations((67.158705, 88.351823)):
            Circle(F0_R, mode=Mode.SUBTRACT)
    extrude(amount=F1_DEPTH)


solid = f1.part
